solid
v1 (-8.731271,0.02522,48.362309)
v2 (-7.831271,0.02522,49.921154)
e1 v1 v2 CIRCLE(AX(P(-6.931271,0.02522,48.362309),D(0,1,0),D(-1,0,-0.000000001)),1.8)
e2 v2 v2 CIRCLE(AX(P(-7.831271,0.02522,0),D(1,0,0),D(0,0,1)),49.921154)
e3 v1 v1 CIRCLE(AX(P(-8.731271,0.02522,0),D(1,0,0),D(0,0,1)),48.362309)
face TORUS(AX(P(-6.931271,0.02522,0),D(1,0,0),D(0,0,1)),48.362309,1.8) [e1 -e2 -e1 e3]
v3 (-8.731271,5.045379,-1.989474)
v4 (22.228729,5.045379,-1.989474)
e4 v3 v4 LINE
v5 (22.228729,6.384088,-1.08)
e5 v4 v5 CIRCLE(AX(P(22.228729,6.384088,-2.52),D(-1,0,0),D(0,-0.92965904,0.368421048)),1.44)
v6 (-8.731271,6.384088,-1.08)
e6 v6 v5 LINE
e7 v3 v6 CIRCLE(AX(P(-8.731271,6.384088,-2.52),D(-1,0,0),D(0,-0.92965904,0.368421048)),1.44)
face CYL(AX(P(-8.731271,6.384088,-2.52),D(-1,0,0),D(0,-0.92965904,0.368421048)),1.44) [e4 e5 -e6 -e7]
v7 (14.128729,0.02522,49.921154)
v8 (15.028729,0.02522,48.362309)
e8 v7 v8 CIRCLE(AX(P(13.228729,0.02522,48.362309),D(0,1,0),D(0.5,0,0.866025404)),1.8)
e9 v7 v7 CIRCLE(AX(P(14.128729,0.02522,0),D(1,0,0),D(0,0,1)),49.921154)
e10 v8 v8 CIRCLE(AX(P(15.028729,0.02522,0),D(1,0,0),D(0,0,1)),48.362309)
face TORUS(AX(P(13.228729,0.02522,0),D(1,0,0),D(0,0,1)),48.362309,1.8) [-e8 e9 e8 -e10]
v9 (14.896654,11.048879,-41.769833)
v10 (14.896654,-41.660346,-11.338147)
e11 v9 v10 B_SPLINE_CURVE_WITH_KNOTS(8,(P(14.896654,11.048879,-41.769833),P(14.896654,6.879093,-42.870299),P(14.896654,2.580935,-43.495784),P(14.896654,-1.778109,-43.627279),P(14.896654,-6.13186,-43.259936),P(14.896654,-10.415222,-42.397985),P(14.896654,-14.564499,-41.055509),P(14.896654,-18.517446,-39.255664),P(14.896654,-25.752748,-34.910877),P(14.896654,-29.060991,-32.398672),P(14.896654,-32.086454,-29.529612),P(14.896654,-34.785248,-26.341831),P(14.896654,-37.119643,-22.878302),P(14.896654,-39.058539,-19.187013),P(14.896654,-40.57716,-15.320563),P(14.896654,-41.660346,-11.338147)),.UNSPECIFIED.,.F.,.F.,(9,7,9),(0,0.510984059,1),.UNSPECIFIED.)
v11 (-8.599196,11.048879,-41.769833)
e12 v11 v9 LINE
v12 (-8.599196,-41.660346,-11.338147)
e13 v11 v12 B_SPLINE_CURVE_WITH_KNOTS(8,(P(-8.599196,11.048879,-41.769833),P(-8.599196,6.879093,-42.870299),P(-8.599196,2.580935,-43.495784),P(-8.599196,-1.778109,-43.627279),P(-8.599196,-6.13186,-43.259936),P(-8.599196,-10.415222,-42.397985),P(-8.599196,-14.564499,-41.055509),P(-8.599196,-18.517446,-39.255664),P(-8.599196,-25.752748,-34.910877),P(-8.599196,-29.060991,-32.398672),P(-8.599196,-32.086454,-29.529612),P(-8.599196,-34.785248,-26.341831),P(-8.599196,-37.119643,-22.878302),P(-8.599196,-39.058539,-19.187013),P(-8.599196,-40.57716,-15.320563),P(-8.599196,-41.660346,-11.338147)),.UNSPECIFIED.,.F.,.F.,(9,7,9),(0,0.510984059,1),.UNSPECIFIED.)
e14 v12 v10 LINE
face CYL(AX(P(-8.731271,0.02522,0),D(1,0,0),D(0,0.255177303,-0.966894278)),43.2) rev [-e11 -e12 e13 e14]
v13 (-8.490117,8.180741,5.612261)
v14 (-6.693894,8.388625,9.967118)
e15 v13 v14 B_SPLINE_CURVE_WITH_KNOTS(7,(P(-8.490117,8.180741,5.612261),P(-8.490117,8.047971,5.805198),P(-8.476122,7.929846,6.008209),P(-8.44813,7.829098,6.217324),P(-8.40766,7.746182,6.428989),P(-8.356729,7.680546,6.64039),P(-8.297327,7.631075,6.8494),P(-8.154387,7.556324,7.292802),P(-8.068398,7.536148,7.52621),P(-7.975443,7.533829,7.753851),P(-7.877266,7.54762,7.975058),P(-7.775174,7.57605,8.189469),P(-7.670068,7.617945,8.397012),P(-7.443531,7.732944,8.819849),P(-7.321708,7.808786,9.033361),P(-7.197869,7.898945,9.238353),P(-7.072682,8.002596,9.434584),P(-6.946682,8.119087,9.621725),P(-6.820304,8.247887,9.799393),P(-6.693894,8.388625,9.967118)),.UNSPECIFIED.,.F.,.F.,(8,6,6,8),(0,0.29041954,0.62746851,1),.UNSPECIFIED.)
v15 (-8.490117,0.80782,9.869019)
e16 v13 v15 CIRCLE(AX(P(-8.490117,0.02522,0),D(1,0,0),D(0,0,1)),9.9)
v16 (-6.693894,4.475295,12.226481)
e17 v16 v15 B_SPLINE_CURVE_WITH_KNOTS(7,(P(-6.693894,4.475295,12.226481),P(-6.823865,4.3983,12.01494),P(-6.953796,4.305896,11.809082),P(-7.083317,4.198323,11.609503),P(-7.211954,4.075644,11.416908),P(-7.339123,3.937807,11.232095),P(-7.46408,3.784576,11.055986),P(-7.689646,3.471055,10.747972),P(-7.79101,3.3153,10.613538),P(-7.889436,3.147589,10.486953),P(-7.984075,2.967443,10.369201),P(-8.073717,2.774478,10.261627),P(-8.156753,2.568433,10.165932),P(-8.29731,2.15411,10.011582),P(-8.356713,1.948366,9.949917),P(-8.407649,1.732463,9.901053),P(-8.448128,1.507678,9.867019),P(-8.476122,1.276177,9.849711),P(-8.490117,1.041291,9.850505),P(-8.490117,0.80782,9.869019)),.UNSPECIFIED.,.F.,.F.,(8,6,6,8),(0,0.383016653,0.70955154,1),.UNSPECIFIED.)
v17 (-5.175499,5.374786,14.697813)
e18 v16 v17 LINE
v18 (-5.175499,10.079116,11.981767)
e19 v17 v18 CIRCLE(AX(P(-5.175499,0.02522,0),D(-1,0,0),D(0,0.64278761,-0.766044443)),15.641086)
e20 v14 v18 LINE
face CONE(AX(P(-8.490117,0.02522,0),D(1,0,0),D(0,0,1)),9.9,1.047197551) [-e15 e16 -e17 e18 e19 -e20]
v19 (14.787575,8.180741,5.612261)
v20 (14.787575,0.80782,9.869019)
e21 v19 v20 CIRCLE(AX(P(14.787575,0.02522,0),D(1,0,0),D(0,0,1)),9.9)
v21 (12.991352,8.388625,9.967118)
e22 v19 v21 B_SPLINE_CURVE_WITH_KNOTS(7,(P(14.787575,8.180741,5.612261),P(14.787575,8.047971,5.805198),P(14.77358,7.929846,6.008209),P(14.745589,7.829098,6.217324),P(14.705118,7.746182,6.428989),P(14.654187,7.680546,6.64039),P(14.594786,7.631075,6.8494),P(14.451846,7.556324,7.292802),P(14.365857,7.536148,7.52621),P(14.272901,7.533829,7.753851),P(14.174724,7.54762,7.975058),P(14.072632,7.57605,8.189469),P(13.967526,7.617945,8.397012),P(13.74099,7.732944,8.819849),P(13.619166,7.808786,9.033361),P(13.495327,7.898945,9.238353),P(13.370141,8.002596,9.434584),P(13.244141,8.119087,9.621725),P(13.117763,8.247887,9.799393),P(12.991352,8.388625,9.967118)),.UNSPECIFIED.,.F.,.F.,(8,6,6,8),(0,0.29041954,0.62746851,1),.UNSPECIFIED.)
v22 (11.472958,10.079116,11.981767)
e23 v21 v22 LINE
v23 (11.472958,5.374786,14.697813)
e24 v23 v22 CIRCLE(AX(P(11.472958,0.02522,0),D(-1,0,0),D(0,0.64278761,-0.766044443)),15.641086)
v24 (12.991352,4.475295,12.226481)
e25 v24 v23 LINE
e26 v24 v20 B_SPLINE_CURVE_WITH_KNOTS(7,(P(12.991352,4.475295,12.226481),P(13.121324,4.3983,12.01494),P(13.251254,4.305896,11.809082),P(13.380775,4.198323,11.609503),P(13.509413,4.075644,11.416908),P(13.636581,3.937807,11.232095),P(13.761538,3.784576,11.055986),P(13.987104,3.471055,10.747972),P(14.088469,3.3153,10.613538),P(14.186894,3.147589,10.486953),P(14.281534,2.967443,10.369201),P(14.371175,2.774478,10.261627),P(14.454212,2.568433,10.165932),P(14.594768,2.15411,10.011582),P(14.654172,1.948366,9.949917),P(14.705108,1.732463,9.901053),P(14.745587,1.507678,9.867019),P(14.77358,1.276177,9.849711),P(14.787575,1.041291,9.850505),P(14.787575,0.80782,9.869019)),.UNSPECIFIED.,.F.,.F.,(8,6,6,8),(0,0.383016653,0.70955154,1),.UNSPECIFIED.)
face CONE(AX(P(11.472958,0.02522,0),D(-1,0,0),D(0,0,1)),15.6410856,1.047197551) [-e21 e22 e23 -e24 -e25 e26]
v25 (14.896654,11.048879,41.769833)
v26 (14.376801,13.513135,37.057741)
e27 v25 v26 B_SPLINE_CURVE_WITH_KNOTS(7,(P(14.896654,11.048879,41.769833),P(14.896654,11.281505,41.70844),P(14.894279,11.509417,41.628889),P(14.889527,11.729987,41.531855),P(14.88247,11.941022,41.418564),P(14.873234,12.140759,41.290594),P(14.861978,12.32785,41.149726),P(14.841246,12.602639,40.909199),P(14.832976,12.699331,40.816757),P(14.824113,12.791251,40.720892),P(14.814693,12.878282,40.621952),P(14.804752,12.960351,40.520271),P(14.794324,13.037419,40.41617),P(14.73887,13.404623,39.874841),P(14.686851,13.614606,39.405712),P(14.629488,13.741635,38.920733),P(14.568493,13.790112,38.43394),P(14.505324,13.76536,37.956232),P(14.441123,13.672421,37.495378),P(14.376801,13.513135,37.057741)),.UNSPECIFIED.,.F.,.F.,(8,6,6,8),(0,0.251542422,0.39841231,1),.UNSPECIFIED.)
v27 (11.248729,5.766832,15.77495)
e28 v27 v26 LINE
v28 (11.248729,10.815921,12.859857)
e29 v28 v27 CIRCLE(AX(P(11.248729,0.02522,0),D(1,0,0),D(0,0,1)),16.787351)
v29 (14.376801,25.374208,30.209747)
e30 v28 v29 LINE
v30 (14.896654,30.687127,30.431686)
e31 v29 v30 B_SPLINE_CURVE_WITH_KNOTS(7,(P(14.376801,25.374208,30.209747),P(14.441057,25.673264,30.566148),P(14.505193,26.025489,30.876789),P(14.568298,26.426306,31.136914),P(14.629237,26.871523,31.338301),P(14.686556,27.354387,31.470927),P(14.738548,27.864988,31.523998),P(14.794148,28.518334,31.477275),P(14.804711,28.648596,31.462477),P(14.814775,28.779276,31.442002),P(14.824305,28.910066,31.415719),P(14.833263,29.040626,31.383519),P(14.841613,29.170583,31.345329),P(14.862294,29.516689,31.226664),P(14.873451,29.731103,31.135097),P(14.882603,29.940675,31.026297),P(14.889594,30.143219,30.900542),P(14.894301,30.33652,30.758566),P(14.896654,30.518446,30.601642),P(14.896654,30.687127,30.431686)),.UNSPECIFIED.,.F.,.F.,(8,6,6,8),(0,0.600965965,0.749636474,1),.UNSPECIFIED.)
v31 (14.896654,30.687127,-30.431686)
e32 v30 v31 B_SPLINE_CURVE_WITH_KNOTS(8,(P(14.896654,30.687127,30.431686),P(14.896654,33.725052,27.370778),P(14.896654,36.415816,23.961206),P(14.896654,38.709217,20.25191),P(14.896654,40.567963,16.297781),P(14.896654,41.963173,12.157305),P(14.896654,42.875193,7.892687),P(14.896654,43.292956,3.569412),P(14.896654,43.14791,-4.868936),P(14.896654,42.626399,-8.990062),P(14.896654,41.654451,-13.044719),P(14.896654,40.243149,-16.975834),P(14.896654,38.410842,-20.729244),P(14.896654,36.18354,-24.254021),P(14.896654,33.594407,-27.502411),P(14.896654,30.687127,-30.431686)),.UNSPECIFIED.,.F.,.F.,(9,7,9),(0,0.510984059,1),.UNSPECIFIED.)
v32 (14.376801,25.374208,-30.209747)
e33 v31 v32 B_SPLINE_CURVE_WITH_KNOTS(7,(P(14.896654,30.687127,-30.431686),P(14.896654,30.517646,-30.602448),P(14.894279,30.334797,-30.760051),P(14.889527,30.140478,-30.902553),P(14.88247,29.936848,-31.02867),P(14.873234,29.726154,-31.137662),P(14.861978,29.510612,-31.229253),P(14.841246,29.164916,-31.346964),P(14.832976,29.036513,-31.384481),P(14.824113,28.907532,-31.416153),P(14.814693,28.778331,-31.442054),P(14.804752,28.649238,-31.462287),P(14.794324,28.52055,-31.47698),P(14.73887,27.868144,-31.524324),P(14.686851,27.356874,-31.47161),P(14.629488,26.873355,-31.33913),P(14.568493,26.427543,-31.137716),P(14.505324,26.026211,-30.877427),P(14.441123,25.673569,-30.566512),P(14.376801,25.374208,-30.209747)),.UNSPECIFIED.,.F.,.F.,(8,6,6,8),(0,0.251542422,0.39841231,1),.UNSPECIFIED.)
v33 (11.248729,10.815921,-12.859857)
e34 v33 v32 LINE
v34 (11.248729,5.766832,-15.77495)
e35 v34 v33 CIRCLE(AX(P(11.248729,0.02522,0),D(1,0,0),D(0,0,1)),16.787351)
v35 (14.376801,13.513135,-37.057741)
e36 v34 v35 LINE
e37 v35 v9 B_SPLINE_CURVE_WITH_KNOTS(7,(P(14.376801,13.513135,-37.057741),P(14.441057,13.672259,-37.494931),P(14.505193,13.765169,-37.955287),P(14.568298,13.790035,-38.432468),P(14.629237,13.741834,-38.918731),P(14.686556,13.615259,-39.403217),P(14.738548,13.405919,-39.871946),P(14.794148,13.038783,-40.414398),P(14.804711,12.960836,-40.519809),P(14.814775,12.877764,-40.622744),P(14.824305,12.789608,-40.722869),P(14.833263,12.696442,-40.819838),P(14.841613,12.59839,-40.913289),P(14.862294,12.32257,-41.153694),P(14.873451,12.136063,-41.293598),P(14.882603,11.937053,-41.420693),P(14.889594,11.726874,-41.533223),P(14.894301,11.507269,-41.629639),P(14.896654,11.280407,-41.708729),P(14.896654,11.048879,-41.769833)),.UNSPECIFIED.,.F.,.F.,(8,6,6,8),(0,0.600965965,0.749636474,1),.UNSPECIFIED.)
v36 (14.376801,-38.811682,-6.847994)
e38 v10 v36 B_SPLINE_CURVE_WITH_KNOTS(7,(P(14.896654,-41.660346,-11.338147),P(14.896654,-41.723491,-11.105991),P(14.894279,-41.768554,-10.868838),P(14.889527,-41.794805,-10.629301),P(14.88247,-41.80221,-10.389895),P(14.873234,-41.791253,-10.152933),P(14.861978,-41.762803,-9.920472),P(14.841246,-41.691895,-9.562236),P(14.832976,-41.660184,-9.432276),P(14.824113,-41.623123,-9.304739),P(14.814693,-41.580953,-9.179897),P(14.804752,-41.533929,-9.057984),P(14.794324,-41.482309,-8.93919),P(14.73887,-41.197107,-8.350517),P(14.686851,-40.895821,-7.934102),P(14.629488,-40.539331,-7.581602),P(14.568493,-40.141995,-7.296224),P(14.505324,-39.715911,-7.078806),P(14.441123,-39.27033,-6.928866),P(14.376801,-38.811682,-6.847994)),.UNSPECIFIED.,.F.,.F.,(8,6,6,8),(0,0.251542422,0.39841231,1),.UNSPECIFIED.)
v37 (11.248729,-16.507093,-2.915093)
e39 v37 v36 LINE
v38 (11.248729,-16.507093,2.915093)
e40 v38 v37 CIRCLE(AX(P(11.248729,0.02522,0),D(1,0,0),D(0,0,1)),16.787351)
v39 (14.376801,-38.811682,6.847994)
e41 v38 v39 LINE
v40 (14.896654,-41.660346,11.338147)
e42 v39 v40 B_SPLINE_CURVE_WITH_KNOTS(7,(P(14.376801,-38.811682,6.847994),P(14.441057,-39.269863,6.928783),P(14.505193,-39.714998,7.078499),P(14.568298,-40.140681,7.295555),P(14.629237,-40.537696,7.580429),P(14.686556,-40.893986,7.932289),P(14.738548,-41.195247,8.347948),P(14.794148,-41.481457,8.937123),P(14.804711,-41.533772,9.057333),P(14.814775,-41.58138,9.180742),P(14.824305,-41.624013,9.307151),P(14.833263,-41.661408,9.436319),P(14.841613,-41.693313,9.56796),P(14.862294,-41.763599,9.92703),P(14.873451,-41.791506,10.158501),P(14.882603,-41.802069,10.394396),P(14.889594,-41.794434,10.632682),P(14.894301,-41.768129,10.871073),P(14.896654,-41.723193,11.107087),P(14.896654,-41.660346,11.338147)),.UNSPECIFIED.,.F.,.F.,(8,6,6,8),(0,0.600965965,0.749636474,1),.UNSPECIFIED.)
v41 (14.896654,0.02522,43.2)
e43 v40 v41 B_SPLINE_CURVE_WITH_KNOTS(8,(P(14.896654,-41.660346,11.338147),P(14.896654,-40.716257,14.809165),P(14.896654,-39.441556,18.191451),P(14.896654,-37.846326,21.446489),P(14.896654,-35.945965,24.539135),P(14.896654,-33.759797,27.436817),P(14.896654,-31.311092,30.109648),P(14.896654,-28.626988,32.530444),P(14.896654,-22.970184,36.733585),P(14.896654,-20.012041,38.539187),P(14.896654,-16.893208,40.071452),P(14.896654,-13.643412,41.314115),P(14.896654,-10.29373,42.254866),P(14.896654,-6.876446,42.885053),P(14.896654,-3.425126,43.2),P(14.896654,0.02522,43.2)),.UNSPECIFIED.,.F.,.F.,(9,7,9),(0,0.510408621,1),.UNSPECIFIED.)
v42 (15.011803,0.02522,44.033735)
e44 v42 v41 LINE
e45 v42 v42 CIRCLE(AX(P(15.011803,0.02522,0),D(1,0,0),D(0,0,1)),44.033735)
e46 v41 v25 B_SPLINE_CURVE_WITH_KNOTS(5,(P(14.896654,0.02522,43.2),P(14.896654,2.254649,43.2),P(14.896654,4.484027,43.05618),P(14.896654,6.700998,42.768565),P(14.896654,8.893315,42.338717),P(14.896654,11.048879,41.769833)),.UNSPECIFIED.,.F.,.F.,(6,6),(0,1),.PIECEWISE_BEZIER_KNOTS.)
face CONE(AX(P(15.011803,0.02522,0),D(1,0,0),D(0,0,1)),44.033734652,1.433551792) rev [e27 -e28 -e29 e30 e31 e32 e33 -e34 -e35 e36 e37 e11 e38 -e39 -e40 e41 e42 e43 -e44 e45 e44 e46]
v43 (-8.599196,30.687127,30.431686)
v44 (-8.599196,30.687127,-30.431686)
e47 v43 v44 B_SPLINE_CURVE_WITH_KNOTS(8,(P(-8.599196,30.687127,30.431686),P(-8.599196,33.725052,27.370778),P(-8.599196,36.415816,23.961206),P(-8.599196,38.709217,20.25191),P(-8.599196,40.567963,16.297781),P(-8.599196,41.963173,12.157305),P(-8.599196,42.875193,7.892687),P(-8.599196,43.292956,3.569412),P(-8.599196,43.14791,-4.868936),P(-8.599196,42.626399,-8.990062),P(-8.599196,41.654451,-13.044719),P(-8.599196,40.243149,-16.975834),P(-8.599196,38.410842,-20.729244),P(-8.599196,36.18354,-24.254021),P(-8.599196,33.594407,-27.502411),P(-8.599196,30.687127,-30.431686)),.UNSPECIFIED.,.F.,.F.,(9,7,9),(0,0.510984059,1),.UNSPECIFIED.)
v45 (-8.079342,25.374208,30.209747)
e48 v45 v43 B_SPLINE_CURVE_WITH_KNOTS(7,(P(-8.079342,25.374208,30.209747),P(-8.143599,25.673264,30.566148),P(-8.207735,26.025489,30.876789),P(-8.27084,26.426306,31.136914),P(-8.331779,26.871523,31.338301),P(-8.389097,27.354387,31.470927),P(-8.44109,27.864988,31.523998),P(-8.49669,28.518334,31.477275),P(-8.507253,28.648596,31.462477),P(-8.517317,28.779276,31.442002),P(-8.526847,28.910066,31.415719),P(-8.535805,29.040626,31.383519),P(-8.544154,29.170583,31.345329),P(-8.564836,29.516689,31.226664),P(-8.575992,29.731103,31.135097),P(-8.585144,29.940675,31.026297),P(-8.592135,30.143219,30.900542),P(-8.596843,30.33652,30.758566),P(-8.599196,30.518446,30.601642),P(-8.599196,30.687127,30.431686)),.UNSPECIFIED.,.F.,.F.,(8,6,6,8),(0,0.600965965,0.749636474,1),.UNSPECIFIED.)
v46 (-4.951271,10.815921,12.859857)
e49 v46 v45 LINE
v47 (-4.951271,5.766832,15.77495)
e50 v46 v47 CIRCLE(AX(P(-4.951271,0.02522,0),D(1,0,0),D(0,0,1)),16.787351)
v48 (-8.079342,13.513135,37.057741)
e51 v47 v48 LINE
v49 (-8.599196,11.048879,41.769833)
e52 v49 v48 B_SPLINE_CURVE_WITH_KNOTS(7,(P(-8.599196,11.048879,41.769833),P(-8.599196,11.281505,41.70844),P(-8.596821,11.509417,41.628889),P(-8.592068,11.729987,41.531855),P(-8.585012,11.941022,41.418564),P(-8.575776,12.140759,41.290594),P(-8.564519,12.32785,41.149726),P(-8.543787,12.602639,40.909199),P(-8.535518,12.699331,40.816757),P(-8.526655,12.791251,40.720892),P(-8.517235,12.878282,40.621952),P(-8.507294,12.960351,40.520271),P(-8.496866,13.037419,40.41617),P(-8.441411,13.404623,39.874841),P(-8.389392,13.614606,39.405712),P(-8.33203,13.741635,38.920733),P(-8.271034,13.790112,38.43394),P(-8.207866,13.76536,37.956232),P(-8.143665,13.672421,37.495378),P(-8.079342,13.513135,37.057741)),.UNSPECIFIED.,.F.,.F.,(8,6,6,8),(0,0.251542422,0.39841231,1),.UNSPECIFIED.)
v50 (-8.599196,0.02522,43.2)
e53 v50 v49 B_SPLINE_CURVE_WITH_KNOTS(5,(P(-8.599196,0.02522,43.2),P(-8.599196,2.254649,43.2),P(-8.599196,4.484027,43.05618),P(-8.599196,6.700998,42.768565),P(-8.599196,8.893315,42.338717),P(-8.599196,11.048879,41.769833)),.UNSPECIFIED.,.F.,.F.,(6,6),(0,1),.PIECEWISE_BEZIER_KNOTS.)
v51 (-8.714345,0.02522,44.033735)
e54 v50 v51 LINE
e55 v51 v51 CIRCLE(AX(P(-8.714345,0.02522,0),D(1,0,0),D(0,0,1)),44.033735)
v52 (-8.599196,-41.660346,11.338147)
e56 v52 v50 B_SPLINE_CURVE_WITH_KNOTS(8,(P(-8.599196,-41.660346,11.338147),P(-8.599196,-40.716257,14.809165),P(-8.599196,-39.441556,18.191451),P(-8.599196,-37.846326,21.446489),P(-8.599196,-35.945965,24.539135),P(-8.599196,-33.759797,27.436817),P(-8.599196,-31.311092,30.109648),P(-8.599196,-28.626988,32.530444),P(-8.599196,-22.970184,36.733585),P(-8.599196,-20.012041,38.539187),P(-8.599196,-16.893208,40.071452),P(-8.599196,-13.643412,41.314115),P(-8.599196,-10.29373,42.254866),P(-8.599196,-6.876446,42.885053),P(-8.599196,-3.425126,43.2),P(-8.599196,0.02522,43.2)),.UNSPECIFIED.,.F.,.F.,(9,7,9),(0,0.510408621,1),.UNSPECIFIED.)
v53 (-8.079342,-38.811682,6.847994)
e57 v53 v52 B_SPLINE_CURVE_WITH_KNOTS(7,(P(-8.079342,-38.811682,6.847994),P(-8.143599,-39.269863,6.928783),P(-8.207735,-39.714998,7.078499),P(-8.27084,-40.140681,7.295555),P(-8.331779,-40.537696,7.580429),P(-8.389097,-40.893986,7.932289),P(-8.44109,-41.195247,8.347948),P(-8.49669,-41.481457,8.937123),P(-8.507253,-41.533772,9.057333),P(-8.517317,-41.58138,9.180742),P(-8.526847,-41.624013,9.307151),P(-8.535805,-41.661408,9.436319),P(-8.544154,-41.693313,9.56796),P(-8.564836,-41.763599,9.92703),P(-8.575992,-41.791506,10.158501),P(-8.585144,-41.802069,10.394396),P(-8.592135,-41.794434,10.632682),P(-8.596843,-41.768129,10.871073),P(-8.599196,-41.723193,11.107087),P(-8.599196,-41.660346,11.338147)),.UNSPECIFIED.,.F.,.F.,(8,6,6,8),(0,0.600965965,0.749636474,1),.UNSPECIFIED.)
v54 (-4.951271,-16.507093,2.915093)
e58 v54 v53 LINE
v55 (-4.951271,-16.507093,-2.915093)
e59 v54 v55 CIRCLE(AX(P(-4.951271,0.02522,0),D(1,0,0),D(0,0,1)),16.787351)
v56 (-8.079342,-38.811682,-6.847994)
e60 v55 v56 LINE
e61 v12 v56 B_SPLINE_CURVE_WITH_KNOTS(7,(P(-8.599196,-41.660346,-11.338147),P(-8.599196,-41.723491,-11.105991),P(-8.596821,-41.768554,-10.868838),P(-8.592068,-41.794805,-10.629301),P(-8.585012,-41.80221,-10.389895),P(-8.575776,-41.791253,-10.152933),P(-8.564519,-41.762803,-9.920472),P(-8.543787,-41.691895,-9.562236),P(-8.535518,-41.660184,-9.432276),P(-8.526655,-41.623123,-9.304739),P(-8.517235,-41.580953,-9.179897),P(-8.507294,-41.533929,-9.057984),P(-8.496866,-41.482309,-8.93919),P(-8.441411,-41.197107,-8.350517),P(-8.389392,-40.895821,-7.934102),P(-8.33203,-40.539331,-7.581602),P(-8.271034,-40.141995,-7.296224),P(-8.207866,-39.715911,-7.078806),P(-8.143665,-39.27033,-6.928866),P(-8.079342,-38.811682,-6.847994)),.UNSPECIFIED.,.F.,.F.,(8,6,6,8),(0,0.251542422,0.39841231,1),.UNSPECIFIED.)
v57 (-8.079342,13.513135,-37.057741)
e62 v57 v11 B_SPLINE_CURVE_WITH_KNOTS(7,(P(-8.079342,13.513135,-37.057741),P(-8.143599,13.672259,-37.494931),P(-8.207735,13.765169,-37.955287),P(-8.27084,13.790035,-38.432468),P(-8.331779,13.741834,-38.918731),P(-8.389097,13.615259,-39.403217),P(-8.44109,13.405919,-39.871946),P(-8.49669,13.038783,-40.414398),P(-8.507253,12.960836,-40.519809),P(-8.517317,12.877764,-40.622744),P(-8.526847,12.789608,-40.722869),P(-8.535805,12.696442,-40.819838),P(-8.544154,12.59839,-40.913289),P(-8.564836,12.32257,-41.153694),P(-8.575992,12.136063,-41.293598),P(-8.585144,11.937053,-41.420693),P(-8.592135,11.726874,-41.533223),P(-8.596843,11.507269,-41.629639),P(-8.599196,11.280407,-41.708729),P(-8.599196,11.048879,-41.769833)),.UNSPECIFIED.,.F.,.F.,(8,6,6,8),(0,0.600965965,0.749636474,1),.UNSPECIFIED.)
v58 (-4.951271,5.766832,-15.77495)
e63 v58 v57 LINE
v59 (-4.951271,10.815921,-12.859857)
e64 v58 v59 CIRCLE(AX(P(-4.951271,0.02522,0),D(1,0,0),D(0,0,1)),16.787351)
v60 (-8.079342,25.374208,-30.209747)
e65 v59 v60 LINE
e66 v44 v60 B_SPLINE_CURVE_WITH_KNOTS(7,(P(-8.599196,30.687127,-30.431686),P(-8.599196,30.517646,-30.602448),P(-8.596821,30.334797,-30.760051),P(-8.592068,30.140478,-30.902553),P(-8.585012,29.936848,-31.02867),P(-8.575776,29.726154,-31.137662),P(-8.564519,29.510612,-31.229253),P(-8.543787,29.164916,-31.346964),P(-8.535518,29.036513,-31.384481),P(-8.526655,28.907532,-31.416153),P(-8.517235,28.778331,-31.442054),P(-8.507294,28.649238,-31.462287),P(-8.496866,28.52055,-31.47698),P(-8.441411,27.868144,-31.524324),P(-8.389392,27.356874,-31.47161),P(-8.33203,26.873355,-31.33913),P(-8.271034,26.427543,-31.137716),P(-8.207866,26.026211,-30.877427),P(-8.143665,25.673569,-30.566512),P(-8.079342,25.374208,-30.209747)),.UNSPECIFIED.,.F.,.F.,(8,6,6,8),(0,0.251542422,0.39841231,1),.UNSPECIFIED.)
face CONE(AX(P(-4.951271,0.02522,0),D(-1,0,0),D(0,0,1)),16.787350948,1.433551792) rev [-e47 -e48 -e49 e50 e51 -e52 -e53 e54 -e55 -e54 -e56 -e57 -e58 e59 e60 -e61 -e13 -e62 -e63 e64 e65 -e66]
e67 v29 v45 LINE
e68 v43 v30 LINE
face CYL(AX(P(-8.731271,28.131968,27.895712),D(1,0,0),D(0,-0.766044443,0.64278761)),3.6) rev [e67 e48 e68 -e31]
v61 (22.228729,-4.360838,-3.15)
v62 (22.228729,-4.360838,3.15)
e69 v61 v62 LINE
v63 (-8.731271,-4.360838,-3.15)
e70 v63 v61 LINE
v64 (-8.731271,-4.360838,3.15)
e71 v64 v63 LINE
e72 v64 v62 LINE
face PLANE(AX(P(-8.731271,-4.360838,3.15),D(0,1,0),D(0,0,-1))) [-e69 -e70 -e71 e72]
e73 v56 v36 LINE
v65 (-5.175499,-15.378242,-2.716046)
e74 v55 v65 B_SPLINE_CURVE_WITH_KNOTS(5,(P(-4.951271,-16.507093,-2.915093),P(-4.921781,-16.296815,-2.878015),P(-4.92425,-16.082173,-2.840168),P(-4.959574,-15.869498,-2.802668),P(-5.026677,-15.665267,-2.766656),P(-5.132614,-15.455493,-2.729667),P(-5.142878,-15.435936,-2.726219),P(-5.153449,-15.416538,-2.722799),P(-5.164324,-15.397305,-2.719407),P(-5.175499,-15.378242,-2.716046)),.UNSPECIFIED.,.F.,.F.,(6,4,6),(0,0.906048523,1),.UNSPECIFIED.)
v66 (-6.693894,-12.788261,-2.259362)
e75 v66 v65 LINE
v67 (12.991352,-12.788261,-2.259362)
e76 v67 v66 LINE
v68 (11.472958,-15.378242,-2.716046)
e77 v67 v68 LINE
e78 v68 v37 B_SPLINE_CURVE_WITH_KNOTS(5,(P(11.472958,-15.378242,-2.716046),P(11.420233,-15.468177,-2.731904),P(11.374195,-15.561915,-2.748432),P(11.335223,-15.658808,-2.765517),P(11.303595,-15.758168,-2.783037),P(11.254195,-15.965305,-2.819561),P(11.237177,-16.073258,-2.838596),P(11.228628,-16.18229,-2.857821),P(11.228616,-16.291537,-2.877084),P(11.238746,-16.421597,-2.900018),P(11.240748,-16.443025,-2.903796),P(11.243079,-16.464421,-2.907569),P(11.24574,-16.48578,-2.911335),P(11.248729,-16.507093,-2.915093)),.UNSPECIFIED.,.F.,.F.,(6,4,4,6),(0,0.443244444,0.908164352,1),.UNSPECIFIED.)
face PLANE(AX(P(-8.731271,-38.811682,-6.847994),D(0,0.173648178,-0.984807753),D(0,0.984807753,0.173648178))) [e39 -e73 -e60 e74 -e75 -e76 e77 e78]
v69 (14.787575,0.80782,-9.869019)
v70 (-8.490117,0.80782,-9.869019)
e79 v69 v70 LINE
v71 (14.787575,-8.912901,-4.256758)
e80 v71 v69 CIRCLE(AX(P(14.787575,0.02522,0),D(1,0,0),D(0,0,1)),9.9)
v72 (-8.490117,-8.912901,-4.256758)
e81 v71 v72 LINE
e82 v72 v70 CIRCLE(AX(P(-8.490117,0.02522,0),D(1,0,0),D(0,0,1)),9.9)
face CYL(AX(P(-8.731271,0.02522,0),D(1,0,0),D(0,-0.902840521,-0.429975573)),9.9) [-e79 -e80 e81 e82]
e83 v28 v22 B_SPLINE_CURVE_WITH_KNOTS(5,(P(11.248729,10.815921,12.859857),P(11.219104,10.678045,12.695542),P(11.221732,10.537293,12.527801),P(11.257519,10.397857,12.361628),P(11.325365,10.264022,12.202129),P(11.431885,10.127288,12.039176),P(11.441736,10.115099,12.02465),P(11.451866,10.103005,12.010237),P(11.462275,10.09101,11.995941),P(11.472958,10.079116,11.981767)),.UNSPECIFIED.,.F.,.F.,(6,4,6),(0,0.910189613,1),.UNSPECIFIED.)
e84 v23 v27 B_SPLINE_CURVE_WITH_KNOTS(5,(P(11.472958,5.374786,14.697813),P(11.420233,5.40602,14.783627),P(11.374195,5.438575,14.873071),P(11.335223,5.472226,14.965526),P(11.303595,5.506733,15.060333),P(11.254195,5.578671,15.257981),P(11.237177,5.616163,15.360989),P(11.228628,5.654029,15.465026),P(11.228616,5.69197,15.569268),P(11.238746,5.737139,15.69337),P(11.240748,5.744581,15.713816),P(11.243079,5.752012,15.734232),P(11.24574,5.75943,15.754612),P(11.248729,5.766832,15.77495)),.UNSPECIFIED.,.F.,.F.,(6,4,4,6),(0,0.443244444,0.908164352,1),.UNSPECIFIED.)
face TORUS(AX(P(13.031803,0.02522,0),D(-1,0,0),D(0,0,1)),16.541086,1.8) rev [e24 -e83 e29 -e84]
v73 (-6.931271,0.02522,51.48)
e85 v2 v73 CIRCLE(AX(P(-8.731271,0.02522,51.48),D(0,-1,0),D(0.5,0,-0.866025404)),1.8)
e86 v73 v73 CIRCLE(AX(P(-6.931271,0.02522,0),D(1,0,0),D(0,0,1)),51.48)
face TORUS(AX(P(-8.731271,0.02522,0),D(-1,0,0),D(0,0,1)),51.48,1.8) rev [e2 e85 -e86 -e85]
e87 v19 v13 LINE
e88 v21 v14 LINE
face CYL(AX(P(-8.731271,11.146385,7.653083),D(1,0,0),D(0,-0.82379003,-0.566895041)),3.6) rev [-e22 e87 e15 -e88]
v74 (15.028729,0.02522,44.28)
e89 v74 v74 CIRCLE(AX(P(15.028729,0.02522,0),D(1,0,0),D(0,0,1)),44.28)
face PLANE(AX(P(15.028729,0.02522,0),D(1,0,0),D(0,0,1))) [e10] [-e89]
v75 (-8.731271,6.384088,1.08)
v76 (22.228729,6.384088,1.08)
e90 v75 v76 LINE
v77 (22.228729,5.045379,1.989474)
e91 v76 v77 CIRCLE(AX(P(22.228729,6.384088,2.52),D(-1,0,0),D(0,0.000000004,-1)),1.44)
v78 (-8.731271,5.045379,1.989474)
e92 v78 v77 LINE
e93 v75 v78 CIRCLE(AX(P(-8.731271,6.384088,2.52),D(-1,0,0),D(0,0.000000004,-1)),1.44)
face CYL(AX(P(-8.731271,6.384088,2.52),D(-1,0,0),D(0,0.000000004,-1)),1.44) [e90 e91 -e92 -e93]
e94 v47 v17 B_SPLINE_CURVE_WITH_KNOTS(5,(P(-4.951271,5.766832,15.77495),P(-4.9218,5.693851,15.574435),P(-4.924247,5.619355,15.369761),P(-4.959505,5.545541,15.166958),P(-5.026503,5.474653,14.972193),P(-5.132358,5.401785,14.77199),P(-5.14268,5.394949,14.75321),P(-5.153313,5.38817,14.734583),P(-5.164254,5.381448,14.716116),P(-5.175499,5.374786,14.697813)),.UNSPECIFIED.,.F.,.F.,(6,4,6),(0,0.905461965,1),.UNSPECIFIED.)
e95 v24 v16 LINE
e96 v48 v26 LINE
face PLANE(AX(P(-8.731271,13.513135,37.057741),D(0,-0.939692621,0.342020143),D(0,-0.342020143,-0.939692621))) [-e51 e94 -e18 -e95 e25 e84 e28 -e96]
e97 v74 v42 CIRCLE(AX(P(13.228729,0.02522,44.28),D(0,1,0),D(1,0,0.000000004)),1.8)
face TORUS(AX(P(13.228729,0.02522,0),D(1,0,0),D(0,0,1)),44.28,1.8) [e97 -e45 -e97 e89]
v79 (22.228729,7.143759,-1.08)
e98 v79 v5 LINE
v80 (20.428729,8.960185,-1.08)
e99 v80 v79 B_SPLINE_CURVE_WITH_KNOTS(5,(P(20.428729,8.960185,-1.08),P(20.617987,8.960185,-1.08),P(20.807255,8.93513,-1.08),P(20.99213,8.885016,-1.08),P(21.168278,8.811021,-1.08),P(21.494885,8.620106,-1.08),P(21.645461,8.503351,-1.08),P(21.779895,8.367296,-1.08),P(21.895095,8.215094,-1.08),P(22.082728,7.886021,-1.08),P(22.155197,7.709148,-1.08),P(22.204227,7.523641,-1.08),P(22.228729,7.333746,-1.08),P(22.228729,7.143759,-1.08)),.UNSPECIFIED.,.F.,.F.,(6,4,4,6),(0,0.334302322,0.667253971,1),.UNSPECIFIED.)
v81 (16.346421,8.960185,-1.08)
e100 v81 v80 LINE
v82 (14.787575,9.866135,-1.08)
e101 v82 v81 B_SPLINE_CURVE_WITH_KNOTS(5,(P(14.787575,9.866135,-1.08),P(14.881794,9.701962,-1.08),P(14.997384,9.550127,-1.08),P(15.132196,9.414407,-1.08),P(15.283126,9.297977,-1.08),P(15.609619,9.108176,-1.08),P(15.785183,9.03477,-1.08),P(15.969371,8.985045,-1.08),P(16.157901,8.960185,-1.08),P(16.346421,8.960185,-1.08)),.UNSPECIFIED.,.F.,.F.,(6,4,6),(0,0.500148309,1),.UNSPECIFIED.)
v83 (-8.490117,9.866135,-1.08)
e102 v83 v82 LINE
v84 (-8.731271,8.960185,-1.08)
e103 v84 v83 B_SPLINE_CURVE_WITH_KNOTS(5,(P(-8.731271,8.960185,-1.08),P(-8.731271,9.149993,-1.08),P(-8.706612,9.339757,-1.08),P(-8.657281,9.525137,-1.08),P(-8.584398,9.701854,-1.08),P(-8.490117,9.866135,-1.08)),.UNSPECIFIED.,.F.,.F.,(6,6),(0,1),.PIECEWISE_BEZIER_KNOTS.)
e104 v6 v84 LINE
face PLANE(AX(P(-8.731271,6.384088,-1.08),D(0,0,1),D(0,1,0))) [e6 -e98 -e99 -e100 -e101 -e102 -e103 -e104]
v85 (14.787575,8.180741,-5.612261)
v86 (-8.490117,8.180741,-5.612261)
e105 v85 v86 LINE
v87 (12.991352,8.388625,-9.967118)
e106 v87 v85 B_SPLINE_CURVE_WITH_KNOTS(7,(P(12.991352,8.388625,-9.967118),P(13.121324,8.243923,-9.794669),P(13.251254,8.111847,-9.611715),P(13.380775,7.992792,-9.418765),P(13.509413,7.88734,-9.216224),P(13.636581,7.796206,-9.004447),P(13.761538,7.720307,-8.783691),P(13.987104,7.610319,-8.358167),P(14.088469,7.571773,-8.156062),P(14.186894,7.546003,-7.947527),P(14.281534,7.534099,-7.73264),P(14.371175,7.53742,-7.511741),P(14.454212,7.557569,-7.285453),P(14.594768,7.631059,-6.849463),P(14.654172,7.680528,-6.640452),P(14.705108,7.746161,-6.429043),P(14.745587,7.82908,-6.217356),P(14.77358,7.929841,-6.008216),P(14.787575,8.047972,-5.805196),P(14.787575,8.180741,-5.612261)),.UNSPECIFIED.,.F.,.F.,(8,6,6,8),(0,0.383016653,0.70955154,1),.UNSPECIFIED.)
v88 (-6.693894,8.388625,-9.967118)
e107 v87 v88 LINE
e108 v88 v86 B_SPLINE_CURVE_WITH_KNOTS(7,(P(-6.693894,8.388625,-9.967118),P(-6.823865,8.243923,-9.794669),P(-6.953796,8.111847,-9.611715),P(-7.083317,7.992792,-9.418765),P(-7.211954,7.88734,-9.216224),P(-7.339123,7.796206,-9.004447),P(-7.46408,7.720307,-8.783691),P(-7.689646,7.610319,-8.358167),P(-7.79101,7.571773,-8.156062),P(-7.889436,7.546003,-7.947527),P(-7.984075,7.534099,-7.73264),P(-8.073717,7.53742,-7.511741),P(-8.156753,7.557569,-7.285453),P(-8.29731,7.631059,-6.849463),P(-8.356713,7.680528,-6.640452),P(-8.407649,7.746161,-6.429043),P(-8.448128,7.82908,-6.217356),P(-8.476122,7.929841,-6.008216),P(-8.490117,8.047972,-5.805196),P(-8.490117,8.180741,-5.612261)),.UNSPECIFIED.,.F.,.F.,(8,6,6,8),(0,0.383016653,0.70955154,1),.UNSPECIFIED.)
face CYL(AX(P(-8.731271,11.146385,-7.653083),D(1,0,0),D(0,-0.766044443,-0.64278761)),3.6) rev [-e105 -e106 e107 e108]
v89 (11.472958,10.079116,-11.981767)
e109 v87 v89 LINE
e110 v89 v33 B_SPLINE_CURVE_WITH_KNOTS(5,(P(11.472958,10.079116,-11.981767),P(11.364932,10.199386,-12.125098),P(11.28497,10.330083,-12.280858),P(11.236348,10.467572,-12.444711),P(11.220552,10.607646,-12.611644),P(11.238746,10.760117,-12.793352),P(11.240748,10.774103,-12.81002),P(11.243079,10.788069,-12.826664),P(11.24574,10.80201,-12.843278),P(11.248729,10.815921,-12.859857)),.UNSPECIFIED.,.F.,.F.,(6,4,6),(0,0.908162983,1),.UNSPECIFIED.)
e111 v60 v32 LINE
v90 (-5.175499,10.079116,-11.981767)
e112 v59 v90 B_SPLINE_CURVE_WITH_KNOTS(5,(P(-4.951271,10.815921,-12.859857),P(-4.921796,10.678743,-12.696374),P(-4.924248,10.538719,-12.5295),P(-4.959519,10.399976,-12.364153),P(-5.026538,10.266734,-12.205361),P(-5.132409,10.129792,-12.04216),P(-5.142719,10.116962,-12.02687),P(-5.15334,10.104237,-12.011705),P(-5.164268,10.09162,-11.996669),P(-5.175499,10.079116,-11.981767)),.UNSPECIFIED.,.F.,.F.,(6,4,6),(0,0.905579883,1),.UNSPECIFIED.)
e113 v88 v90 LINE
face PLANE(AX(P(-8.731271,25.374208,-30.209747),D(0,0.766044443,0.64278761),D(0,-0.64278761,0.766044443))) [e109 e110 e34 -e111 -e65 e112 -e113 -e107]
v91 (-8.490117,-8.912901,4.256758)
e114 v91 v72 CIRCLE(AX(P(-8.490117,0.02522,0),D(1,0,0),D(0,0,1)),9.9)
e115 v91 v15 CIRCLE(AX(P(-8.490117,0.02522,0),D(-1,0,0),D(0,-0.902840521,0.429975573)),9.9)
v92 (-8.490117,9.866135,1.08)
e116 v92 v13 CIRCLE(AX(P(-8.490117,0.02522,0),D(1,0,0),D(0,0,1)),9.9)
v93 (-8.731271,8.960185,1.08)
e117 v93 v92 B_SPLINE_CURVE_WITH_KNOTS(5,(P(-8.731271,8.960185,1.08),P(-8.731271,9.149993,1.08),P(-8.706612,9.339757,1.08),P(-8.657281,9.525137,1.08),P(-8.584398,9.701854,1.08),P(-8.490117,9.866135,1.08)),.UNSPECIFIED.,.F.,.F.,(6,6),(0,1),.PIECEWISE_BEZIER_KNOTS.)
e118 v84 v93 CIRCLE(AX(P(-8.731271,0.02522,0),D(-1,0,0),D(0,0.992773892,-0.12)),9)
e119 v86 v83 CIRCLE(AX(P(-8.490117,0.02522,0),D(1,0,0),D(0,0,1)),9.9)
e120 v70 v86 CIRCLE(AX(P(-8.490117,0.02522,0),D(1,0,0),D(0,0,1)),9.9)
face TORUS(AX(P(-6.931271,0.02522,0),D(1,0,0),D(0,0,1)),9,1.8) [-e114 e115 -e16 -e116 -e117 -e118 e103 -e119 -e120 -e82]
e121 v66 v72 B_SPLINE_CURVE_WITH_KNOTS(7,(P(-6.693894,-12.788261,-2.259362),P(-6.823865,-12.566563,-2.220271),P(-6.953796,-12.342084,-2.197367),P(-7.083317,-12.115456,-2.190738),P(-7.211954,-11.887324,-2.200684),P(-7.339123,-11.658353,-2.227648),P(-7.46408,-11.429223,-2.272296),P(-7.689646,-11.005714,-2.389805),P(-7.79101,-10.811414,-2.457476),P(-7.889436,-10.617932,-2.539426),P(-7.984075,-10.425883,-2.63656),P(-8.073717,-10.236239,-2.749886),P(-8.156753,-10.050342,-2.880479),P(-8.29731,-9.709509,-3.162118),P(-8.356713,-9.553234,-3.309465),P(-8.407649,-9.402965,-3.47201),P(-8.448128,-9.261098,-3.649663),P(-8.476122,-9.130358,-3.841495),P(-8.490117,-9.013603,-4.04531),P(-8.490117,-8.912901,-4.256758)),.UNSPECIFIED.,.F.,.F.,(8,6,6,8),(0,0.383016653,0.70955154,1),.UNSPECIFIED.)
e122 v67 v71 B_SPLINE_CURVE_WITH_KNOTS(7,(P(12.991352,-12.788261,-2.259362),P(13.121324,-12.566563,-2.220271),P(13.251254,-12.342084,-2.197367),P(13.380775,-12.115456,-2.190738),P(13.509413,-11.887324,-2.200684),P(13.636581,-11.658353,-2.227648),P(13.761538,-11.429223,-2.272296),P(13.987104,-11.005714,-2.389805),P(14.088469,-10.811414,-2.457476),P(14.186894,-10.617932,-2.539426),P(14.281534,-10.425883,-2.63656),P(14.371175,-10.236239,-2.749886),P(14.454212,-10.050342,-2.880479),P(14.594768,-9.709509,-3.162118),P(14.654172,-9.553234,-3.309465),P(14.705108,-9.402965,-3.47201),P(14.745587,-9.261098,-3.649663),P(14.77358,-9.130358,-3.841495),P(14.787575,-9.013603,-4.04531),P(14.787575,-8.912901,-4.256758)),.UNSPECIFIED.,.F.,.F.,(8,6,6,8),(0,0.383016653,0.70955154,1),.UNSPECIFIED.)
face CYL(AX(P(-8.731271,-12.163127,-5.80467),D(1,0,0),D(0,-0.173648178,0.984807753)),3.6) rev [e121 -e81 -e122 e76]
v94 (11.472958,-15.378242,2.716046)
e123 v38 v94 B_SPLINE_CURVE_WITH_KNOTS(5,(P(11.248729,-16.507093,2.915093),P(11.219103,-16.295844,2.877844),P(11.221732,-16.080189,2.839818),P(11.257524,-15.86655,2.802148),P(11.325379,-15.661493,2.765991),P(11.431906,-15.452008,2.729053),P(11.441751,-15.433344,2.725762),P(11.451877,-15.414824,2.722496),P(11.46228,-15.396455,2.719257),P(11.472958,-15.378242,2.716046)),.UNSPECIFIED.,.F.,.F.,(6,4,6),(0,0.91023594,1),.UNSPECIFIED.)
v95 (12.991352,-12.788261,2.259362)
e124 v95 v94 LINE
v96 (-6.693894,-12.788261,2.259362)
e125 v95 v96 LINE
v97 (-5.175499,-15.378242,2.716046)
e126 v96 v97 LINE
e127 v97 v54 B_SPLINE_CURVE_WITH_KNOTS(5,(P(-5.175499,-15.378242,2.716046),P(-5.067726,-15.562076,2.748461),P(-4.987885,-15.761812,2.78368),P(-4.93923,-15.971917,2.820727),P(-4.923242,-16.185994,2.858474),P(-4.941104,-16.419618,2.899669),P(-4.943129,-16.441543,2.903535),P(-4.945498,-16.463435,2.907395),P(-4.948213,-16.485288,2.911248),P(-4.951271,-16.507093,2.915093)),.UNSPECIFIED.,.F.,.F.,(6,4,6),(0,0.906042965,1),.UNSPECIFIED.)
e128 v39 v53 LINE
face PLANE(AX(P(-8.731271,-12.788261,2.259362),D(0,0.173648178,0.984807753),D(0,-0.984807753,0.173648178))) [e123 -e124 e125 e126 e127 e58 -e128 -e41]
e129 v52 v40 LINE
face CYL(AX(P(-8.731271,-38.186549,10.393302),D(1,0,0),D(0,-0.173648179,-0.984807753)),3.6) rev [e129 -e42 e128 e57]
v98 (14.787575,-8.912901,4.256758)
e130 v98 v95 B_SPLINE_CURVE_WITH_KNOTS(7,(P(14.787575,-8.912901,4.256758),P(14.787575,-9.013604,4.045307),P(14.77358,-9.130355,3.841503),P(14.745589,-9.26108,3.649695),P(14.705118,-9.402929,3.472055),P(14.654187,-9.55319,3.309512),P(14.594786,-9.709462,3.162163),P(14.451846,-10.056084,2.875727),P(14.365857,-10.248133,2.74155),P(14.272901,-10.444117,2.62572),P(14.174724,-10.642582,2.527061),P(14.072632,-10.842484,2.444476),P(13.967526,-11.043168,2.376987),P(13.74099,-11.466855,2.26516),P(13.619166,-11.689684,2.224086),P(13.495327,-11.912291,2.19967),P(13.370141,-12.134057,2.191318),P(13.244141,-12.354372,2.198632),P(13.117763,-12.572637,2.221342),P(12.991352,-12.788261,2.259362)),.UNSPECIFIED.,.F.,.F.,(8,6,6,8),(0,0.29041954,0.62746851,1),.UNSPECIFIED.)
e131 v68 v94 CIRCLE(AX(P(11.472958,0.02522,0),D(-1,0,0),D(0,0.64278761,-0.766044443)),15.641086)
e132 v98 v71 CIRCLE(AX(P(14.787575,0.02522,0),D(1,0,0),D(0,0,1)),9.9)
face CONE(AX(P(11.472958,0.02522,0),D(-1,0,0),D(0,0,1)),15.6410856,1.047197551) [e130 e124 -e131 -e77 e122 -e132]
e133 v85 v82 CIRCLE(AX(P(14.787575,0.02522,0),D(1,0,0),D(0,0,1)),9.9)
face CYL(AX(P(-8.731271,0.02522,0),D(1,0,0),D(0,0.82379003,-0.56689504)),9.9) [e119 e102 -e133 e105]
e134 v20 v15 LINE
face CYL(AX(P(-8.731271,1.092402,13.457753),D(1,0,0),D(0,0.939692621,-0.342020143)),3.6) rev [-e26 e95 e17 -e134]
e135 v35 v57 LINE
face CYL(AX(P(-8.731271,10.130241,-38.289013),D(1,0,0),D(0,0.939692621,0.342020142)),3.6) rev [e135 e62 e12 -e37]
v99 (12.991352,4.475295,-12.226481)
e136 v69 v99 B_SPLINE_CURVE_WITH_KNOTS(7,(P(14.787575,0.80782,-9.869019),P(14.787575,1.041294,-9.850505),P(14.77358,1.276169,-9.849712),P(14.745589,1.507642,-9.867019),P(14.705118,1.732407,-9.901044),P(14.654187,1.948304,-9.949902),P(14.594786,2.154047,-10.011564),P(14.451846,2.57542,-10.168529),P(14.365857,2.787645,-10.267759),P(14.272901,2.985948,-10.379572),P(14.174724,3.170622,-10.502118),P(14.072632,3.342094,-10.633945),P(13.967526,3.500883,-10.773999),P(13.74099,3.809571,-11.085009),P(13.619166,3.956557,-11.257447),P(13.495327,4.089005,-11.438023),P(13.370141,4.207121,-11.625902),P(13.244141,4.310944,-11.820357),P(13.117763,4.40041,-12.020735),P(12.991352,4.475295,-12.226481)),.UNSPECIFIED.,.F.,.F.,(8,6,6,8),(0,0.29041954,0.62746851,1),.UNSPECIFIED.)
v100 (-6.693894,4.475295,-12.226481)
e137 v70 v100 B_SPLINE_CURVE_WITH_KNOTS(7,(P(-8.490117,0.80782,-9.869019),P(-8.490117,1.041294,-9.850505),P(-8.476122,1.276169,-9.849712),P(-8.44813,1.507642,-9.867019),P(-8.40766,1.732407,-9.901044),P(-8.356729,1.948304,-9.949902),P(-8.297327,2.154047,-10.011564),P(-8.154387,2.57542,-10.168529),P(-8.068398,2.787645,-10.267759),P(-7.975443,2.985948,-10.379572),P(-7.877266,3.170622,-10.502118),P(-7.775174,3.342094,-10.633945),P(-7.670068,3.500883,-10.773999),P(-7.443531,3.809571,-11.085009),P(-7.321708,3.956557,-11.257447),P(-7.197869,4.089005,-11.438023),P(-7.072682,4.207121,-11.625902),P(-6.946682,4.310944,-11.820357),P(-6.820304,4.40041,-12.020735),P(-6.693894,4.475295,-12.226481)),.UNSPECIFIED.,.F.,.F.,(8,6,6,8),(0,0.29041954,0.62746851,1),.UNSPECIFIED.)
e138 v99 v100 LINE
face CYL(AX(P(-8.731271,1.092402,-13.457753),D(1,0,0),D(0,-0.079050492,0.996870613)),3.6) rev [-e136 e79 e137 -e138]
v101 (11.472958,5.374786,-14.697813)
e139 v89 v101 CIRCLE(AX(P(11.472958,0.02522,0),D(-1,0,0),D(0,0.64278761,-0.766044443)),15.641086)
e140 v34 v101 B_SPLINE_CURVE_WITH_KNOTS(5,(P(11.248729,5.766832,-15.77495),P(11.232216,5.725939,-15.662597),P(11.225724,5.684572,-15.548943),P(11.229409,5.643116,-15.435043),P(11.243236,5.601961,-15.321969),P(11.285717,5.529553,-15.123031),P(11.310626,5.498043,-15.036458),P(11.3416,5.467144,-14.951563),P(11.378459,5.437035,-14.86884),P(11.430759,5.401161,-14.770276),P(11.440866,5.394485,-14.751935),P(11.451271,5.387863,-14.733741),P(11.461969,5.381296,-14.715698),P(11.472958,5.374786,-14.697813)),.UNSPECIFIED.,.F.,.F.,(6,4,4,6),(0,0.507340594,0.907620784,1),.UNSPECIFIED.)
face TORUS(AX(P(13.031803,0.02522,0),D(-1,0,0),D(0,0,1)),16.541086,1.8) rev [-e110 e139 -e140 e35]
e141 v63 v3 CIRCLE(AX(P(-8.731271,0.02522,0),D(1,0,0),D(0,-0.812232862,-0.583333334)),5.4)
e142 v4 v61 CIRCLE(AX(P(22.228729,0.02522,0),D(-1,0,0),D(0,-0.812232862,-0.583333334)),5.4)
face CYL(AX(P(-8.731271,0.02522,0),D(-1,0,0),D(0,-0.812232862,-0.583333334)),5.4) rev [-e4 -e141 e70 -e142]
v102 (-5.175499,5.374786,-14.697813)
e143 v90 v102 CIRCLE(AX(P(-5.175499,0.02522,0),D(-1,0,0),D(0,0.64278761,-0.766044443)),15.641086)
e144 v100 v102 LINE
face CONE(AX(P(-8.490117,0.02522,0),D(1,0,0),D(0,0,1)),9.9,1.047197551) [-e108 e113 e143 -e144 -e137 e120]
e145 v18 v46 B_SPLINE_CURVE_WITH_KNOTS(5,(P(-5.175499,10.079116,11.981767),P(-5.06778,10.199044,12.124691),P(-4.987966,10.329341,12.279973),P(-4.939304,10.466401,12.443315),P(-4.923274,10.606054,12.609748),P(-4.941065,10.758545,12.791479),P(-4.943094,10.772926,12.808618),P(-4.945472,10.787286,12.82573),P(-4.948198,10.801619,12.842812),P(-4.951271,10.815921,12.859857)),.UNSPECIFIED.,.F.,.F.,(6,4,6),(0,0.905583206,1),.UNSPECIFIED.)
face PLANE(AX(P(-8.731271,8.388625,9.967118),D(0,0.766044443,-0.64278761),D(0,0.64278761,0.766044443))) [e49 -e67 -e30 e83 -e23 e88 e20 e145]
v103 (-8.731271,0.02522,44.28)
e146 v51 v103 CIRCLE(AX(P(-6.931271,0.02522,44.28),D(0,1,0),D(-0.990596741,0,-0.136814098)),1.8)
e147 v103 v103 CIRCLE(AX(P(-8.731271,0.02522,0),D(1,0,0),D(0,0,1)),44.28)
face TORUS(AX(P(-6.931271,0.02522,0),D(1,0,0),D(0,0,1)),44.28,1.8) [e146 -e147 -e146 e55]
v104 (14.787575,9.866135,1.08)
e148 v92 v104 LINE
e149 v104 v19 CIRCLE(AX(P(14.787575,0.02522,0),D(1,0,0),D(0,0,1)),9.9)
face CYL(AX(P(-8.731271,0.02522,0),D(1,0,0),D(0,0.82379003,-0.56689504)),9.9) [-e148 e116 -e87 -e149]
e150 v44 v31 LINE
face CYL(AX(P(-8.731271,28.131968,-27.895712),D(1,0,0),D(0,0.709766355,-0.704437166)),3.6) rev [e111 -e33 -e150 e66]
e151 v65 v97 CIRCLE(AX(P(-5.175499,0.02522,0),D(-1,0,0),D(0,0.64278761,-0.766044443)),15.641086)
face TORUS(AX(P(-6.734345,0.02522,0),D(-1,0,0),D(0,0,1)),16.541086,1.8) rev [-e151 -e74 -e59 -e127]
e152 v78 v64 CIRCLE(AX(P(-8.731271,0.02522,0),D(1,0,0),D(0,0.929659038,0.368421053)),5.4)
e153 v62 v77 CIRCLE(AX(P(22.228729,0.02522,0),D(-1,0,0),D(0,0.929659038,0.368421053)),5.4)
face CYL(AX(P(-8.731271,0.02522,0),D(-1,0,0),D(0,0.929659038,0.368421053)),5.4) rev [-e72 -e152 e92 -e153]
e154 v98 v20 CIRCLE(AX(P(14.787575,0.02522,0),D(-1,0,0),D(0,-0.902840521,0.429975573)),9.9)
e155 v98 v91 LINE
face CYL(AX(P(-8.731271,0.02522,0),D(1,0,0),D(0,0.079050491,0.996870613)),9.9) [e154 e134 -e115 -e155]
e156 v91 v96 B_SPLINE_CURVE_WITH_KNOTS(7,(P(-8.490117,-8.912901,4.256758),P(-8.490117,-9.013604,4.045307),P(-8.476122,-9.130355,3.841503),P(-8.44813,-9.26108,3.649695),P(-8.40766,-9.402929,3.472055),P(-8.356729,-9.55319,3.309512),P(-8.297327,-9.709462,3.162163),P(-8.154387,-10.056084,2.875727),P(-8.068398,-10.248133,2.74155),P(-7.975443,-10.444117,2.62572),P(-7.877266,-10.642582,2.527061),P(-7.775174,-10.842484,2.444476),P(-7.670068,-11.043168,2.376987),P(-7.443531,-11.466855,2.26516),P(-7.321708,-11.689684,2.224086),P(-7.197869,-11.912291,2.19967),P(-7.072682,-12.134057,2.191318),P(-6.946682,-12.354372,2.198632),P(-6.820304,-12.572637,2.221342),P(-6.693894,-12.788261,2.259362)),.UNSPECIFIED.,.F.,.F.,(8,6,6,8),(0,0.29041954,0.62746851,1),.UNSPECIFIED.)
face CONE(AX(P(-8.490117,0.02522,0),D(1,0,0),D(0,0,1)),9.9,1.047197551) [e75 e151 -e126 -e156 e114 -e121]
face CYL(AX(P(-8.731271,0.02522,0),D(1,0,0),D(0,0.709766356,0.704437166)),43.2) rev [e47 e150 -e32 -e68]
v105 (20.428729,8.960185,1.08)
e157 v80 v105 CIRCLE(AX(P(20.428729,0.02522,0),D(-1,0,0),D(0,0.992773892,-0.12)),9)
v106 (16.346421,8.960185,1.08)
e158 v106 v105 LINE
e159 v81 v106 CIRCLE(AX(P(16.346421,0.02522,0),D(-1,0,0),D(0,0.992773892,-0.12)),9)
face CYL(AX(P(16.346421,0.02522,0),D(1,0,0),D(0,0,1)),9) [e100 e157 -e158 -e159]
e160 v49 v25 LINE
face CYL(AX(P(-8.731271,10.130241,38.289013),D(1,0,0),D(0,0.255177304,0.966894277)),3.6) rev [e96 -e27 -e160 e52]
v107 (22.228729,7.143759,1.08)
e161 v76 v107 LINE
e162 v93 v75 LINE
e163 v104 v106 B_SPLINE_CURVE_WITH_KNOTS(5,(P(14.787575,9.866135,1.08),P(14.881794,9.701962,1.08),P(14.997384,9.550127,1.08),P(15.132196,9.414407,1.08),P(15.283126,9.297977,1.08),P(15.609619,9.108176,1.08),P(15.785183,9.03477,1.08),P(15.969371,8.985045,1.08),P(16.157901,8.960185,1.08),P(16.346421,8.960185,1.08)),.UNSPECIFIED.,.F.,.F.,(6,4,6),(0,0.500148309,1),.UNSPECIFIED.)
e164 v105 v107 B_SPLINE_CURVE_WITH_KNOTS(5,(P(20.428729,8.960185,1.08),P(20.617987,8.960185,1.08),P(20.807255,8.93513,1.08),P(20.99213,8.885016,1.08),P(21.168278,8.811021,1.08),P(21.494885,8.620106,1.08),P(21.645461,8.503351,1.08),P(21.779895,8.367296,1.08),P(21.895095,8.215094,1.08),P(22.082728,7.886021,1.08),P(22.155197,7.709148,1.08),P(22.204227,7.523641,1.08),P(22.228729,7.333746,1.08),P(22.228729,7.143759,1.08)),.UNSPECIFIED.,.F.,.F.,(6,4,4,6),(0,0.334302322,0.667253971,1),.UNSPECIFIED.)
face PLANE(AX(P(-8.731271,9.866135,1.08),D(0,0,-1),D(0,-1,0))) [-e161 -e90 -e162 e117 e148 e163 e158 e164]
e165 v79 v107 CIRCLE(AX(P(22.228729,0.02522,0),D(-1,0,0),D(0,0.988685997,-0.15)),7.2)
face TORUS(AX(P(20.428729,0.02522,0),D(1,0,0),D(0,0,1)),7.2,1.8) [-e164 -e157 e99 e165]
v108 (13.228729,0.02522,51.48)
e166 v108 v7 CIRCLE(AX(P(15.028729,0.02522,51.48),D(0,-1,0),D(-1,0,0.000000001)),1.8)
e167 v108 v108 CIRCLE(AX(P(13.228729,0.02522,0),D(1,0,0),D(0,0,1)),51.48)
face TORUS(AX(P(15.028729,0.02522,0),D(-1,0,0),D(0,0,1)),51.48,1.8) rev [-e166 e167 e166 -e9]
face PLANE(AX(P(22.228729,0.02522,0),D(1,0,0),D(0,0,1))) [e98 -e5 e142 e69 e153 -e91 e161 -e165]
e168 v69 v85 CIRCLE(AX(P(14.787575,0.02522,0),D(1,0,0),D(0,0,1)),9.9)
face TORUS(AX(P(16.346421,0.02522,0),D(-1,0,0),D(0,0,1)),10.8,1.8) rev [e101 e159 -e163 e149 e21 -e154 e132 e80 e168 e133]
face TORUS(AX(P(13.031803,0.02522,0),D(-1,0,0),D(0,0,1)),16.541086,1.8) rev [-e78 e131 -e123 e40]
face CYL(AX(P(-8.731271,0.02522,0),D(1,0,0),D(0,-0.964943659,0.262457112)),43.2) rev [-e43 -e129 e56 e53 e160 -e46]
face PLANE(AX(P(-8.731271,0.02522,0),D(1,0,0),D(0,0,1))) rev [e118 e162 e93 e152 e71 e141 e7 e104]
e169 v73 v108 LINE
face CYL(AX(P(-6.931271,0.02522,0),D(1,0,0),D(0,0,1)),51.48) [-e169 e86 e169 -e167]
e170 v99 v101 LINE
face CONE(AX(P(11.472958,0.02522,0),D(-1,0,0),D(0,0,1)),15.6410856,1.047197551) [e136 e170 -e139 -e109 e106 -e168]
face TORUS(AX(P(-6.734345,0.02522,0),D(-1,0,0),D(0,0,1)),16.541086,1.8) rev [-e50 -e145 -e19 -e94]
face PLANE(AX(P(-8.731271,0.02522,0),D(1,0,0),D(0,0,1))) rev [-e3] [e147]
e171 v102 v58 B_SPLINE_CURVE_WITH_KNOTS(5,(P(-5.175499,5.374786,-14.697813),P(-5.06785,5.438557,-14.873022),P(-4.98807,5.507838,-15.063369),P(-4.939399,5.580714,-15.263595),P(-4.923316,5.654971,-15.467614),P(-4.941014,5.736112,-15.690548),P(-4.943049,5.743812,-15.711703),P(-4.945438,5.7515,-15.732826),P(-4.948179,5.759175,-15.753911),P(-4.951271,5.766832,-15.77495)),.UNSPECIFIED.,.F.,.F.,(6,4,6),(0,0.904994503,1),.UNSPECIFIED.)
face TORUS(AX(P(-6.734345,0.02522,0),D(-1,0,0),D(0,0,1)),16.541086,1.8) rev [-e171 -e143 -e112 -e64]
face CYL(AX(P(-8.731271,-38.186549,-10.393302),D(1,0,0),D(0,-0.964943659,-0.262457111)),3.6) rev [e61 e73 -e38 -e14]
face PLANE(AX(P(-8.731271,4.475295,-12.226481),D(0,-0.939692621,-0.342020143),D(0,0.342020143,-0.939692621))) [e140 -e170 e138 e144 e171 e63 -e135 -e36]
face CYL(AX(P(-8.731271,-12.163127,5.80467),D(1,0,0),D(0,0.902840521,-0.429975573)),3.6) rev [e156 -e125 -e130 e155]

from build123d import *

# Parameters (mm, degrees)
CUT_EXTRUDE2_DEPTH = 22.975895886
CIRPATTERN1_COUNT  = 3
CUT_EXTRUDE3_DEPTH = 22.975895886
SCALE1_SCALE       = 3.6


with BuildPart() as part:
    # Sketch1 → Revolve1 (revolve)
    with BuildSketch(Plane(origin=(0, 0, 0), x_dir=(1, 0, 0), z_dir=(0, 1, 0)), mode=Mode.PRIVATE) as revolve1_sk:
        with BuildLine():
            Line((0, 0), (0, 2.5))
            ThreePointArc((0, 2.5), (0.017037087, 2.629409523), (0.066987298, 2.75))
            Line((0.066987298, 2.75), (0.98771433, 4.344746))
            ThreePointArc((0.98771433, 4.344746), (1.045401255, 4.498757059), (1.05, 4.663153041))
            Line((1.05, 4.663153041), (0.004701629, 12.231592959))
            ThreePointArc((0.004701629, 12.231592959), (0.001176792, 12.265715789), (0, 12.3))
            Line((0, 12.3), (0, 13.433974596))
            ThreePointArc((0, 13.433974596), (0.066987298, 13.683974596), (0.25, 13.866987298))
            ThreePointArc((0.25, 13.866987298), (0.433012702, 14.05), (0.5, 14.3))
            Line((0.5, 14.3), (6.1, 14.3))
            ThreePointArc((6.1, 14.3), (6.166987298, 14.05), (6.35, 13.866987298))
            ThreePointArc((6.35, 13.866987298), (6.533012702, 13.683974596), (6.6, 13.433974596))
            Line((6.6, 13.433974596), (6.6, 12.3))
            ThreePointArc((6.6, 12.3), (6.598823208, 12.265715789), (6.595298371, 12.231592959))
            Line((6.595298371, 12.231592959), (5.55, 4.663153041))
            ThreePointArc((5.55, 4.663153041), (5.554598745, 4.498757059), (5.61228567, 4.344746))
            Line((5.61228567, 4.344746), (6.533012702, 2.75))
            ThreePointArc((6.533012702, 2.75), (6.716025404, 2.566987298), (6.966025404, 2.5))
            Line((6.966025404, 2.5), (8.1, 2.5))
            ThreePointArc((8.1, 2.5), (8.453553391, 2.353553391), (8.6, 2))
            Line((8.6, 2), (8.6, 0))
            Line((8.6, 0), (0, 0))
        make_face()
    revolve(revolve1_sk.sketch.rotate(Axis((0, 0, 0), (1, 0, 0)), 180), axis=Axis((0, 0, 0), (1, 0, 0)))

    # Sketch2 → Cut-Extrude2 (cut, symmetric)
    with BuildSketch(Plane(origin=(0, 0, 0), x_dir=(0, 0, -1), z_dir=(1, 0, 0))):
        with BuildLine():
            Line((8.391596431, 7.04138547), (2.768644011, 2.323168169))
            ThreePointArc((2.768644011, 2.323168169), (2.17353825, 2.090350038), (1.558961361, 2.265422582))
            ThreePointArc((1.558961361, 2.265422582), (0, 2.75), (-1.558961361, 2.265422582))
            ThreePointArc((-1.558961361, 2.265422582), (-2.17353825, 2.090350038), (-2.768644011, 2.323168169))
            Line((-2.768644011, 2.323168169), (-8.391596431, 7.04138547))
            ThreePointArc((-8.391596431, 7.04138547), (-8.747937455, 7.765692967), (-8.453245987, 8.517196269))
            ThreePointArc((-8.453245987, 8.517196269), (0, 12), (8.453245987, 8.517196269))
            ThreePointArc((8.453245987, 8.517196269), (8.747937455, 7.765692967), (8.391596431, 7.04138547))
        make_face()
    cut_extrude2 = extrude(amount=CUT_EXTRUDE2_DEPTH, both=True, mode=Mode.SUBTRACT)

    # CirPattern1: Cut-Extrude2 ×3 about axis
    cirpattern1_axis = Axis((0, 0, 0), (1, 0, 0))
    for i in range(1, CIRPATTERN1_COUNT):
        add(cut_extrude2.rotate(cirpattern1_axis, i * 360 / CIRPATTERN1_COUNT), mode=Mode.SUBTRACT)

    # Sketch3 → Cut-Extrude3 (cut, through all)
    with BuildSketch(Plane.ZY):
        with BuildLine():
            Line((0.875, -1.218349293), (-0.875, -1.218349293))
            ThreePointArc((-0.875, -1.218349293), (-1.48871199, 0.183675284), (-0.552631579, 1.394488558))
            ThreePointArc((-0.552631579, 1.394488558), (-0.369131923, 1.541571578), (-0.3, 1.766352173))
            Line((-0.3, 1.766352173), (-0.3, 2.733587387))
            ThreePointArc((-0.3, 2.733587387), (0, 2.75), (0.3, 2.733587387))
            Line((0.3, 2.733587387), (0.3, 1.766352173))
            ThreePointArc((0.3, 1.766352173), (0.369131923, 1.541571578), (0.552631579, 1.394488558))
            ThreePointArc((0.552631579, 1.394488558), (1.48871199, 0.183675284), (0.875, -1.218349293))
        make_face()
    extrude(amount=-CUT_EXTRUDE3_DEPTH, mode=Mode.SUBTRACT)


with BuildPart() as part_1:
    # Scale1: scaled about (3.358181092, -0.009699982, 3e-09)
    add(part.part.scale(SCALE1_SCALE).moved(Location((-8.731270839, 0.025219953, -8e-09))))


solid = part_1.part
